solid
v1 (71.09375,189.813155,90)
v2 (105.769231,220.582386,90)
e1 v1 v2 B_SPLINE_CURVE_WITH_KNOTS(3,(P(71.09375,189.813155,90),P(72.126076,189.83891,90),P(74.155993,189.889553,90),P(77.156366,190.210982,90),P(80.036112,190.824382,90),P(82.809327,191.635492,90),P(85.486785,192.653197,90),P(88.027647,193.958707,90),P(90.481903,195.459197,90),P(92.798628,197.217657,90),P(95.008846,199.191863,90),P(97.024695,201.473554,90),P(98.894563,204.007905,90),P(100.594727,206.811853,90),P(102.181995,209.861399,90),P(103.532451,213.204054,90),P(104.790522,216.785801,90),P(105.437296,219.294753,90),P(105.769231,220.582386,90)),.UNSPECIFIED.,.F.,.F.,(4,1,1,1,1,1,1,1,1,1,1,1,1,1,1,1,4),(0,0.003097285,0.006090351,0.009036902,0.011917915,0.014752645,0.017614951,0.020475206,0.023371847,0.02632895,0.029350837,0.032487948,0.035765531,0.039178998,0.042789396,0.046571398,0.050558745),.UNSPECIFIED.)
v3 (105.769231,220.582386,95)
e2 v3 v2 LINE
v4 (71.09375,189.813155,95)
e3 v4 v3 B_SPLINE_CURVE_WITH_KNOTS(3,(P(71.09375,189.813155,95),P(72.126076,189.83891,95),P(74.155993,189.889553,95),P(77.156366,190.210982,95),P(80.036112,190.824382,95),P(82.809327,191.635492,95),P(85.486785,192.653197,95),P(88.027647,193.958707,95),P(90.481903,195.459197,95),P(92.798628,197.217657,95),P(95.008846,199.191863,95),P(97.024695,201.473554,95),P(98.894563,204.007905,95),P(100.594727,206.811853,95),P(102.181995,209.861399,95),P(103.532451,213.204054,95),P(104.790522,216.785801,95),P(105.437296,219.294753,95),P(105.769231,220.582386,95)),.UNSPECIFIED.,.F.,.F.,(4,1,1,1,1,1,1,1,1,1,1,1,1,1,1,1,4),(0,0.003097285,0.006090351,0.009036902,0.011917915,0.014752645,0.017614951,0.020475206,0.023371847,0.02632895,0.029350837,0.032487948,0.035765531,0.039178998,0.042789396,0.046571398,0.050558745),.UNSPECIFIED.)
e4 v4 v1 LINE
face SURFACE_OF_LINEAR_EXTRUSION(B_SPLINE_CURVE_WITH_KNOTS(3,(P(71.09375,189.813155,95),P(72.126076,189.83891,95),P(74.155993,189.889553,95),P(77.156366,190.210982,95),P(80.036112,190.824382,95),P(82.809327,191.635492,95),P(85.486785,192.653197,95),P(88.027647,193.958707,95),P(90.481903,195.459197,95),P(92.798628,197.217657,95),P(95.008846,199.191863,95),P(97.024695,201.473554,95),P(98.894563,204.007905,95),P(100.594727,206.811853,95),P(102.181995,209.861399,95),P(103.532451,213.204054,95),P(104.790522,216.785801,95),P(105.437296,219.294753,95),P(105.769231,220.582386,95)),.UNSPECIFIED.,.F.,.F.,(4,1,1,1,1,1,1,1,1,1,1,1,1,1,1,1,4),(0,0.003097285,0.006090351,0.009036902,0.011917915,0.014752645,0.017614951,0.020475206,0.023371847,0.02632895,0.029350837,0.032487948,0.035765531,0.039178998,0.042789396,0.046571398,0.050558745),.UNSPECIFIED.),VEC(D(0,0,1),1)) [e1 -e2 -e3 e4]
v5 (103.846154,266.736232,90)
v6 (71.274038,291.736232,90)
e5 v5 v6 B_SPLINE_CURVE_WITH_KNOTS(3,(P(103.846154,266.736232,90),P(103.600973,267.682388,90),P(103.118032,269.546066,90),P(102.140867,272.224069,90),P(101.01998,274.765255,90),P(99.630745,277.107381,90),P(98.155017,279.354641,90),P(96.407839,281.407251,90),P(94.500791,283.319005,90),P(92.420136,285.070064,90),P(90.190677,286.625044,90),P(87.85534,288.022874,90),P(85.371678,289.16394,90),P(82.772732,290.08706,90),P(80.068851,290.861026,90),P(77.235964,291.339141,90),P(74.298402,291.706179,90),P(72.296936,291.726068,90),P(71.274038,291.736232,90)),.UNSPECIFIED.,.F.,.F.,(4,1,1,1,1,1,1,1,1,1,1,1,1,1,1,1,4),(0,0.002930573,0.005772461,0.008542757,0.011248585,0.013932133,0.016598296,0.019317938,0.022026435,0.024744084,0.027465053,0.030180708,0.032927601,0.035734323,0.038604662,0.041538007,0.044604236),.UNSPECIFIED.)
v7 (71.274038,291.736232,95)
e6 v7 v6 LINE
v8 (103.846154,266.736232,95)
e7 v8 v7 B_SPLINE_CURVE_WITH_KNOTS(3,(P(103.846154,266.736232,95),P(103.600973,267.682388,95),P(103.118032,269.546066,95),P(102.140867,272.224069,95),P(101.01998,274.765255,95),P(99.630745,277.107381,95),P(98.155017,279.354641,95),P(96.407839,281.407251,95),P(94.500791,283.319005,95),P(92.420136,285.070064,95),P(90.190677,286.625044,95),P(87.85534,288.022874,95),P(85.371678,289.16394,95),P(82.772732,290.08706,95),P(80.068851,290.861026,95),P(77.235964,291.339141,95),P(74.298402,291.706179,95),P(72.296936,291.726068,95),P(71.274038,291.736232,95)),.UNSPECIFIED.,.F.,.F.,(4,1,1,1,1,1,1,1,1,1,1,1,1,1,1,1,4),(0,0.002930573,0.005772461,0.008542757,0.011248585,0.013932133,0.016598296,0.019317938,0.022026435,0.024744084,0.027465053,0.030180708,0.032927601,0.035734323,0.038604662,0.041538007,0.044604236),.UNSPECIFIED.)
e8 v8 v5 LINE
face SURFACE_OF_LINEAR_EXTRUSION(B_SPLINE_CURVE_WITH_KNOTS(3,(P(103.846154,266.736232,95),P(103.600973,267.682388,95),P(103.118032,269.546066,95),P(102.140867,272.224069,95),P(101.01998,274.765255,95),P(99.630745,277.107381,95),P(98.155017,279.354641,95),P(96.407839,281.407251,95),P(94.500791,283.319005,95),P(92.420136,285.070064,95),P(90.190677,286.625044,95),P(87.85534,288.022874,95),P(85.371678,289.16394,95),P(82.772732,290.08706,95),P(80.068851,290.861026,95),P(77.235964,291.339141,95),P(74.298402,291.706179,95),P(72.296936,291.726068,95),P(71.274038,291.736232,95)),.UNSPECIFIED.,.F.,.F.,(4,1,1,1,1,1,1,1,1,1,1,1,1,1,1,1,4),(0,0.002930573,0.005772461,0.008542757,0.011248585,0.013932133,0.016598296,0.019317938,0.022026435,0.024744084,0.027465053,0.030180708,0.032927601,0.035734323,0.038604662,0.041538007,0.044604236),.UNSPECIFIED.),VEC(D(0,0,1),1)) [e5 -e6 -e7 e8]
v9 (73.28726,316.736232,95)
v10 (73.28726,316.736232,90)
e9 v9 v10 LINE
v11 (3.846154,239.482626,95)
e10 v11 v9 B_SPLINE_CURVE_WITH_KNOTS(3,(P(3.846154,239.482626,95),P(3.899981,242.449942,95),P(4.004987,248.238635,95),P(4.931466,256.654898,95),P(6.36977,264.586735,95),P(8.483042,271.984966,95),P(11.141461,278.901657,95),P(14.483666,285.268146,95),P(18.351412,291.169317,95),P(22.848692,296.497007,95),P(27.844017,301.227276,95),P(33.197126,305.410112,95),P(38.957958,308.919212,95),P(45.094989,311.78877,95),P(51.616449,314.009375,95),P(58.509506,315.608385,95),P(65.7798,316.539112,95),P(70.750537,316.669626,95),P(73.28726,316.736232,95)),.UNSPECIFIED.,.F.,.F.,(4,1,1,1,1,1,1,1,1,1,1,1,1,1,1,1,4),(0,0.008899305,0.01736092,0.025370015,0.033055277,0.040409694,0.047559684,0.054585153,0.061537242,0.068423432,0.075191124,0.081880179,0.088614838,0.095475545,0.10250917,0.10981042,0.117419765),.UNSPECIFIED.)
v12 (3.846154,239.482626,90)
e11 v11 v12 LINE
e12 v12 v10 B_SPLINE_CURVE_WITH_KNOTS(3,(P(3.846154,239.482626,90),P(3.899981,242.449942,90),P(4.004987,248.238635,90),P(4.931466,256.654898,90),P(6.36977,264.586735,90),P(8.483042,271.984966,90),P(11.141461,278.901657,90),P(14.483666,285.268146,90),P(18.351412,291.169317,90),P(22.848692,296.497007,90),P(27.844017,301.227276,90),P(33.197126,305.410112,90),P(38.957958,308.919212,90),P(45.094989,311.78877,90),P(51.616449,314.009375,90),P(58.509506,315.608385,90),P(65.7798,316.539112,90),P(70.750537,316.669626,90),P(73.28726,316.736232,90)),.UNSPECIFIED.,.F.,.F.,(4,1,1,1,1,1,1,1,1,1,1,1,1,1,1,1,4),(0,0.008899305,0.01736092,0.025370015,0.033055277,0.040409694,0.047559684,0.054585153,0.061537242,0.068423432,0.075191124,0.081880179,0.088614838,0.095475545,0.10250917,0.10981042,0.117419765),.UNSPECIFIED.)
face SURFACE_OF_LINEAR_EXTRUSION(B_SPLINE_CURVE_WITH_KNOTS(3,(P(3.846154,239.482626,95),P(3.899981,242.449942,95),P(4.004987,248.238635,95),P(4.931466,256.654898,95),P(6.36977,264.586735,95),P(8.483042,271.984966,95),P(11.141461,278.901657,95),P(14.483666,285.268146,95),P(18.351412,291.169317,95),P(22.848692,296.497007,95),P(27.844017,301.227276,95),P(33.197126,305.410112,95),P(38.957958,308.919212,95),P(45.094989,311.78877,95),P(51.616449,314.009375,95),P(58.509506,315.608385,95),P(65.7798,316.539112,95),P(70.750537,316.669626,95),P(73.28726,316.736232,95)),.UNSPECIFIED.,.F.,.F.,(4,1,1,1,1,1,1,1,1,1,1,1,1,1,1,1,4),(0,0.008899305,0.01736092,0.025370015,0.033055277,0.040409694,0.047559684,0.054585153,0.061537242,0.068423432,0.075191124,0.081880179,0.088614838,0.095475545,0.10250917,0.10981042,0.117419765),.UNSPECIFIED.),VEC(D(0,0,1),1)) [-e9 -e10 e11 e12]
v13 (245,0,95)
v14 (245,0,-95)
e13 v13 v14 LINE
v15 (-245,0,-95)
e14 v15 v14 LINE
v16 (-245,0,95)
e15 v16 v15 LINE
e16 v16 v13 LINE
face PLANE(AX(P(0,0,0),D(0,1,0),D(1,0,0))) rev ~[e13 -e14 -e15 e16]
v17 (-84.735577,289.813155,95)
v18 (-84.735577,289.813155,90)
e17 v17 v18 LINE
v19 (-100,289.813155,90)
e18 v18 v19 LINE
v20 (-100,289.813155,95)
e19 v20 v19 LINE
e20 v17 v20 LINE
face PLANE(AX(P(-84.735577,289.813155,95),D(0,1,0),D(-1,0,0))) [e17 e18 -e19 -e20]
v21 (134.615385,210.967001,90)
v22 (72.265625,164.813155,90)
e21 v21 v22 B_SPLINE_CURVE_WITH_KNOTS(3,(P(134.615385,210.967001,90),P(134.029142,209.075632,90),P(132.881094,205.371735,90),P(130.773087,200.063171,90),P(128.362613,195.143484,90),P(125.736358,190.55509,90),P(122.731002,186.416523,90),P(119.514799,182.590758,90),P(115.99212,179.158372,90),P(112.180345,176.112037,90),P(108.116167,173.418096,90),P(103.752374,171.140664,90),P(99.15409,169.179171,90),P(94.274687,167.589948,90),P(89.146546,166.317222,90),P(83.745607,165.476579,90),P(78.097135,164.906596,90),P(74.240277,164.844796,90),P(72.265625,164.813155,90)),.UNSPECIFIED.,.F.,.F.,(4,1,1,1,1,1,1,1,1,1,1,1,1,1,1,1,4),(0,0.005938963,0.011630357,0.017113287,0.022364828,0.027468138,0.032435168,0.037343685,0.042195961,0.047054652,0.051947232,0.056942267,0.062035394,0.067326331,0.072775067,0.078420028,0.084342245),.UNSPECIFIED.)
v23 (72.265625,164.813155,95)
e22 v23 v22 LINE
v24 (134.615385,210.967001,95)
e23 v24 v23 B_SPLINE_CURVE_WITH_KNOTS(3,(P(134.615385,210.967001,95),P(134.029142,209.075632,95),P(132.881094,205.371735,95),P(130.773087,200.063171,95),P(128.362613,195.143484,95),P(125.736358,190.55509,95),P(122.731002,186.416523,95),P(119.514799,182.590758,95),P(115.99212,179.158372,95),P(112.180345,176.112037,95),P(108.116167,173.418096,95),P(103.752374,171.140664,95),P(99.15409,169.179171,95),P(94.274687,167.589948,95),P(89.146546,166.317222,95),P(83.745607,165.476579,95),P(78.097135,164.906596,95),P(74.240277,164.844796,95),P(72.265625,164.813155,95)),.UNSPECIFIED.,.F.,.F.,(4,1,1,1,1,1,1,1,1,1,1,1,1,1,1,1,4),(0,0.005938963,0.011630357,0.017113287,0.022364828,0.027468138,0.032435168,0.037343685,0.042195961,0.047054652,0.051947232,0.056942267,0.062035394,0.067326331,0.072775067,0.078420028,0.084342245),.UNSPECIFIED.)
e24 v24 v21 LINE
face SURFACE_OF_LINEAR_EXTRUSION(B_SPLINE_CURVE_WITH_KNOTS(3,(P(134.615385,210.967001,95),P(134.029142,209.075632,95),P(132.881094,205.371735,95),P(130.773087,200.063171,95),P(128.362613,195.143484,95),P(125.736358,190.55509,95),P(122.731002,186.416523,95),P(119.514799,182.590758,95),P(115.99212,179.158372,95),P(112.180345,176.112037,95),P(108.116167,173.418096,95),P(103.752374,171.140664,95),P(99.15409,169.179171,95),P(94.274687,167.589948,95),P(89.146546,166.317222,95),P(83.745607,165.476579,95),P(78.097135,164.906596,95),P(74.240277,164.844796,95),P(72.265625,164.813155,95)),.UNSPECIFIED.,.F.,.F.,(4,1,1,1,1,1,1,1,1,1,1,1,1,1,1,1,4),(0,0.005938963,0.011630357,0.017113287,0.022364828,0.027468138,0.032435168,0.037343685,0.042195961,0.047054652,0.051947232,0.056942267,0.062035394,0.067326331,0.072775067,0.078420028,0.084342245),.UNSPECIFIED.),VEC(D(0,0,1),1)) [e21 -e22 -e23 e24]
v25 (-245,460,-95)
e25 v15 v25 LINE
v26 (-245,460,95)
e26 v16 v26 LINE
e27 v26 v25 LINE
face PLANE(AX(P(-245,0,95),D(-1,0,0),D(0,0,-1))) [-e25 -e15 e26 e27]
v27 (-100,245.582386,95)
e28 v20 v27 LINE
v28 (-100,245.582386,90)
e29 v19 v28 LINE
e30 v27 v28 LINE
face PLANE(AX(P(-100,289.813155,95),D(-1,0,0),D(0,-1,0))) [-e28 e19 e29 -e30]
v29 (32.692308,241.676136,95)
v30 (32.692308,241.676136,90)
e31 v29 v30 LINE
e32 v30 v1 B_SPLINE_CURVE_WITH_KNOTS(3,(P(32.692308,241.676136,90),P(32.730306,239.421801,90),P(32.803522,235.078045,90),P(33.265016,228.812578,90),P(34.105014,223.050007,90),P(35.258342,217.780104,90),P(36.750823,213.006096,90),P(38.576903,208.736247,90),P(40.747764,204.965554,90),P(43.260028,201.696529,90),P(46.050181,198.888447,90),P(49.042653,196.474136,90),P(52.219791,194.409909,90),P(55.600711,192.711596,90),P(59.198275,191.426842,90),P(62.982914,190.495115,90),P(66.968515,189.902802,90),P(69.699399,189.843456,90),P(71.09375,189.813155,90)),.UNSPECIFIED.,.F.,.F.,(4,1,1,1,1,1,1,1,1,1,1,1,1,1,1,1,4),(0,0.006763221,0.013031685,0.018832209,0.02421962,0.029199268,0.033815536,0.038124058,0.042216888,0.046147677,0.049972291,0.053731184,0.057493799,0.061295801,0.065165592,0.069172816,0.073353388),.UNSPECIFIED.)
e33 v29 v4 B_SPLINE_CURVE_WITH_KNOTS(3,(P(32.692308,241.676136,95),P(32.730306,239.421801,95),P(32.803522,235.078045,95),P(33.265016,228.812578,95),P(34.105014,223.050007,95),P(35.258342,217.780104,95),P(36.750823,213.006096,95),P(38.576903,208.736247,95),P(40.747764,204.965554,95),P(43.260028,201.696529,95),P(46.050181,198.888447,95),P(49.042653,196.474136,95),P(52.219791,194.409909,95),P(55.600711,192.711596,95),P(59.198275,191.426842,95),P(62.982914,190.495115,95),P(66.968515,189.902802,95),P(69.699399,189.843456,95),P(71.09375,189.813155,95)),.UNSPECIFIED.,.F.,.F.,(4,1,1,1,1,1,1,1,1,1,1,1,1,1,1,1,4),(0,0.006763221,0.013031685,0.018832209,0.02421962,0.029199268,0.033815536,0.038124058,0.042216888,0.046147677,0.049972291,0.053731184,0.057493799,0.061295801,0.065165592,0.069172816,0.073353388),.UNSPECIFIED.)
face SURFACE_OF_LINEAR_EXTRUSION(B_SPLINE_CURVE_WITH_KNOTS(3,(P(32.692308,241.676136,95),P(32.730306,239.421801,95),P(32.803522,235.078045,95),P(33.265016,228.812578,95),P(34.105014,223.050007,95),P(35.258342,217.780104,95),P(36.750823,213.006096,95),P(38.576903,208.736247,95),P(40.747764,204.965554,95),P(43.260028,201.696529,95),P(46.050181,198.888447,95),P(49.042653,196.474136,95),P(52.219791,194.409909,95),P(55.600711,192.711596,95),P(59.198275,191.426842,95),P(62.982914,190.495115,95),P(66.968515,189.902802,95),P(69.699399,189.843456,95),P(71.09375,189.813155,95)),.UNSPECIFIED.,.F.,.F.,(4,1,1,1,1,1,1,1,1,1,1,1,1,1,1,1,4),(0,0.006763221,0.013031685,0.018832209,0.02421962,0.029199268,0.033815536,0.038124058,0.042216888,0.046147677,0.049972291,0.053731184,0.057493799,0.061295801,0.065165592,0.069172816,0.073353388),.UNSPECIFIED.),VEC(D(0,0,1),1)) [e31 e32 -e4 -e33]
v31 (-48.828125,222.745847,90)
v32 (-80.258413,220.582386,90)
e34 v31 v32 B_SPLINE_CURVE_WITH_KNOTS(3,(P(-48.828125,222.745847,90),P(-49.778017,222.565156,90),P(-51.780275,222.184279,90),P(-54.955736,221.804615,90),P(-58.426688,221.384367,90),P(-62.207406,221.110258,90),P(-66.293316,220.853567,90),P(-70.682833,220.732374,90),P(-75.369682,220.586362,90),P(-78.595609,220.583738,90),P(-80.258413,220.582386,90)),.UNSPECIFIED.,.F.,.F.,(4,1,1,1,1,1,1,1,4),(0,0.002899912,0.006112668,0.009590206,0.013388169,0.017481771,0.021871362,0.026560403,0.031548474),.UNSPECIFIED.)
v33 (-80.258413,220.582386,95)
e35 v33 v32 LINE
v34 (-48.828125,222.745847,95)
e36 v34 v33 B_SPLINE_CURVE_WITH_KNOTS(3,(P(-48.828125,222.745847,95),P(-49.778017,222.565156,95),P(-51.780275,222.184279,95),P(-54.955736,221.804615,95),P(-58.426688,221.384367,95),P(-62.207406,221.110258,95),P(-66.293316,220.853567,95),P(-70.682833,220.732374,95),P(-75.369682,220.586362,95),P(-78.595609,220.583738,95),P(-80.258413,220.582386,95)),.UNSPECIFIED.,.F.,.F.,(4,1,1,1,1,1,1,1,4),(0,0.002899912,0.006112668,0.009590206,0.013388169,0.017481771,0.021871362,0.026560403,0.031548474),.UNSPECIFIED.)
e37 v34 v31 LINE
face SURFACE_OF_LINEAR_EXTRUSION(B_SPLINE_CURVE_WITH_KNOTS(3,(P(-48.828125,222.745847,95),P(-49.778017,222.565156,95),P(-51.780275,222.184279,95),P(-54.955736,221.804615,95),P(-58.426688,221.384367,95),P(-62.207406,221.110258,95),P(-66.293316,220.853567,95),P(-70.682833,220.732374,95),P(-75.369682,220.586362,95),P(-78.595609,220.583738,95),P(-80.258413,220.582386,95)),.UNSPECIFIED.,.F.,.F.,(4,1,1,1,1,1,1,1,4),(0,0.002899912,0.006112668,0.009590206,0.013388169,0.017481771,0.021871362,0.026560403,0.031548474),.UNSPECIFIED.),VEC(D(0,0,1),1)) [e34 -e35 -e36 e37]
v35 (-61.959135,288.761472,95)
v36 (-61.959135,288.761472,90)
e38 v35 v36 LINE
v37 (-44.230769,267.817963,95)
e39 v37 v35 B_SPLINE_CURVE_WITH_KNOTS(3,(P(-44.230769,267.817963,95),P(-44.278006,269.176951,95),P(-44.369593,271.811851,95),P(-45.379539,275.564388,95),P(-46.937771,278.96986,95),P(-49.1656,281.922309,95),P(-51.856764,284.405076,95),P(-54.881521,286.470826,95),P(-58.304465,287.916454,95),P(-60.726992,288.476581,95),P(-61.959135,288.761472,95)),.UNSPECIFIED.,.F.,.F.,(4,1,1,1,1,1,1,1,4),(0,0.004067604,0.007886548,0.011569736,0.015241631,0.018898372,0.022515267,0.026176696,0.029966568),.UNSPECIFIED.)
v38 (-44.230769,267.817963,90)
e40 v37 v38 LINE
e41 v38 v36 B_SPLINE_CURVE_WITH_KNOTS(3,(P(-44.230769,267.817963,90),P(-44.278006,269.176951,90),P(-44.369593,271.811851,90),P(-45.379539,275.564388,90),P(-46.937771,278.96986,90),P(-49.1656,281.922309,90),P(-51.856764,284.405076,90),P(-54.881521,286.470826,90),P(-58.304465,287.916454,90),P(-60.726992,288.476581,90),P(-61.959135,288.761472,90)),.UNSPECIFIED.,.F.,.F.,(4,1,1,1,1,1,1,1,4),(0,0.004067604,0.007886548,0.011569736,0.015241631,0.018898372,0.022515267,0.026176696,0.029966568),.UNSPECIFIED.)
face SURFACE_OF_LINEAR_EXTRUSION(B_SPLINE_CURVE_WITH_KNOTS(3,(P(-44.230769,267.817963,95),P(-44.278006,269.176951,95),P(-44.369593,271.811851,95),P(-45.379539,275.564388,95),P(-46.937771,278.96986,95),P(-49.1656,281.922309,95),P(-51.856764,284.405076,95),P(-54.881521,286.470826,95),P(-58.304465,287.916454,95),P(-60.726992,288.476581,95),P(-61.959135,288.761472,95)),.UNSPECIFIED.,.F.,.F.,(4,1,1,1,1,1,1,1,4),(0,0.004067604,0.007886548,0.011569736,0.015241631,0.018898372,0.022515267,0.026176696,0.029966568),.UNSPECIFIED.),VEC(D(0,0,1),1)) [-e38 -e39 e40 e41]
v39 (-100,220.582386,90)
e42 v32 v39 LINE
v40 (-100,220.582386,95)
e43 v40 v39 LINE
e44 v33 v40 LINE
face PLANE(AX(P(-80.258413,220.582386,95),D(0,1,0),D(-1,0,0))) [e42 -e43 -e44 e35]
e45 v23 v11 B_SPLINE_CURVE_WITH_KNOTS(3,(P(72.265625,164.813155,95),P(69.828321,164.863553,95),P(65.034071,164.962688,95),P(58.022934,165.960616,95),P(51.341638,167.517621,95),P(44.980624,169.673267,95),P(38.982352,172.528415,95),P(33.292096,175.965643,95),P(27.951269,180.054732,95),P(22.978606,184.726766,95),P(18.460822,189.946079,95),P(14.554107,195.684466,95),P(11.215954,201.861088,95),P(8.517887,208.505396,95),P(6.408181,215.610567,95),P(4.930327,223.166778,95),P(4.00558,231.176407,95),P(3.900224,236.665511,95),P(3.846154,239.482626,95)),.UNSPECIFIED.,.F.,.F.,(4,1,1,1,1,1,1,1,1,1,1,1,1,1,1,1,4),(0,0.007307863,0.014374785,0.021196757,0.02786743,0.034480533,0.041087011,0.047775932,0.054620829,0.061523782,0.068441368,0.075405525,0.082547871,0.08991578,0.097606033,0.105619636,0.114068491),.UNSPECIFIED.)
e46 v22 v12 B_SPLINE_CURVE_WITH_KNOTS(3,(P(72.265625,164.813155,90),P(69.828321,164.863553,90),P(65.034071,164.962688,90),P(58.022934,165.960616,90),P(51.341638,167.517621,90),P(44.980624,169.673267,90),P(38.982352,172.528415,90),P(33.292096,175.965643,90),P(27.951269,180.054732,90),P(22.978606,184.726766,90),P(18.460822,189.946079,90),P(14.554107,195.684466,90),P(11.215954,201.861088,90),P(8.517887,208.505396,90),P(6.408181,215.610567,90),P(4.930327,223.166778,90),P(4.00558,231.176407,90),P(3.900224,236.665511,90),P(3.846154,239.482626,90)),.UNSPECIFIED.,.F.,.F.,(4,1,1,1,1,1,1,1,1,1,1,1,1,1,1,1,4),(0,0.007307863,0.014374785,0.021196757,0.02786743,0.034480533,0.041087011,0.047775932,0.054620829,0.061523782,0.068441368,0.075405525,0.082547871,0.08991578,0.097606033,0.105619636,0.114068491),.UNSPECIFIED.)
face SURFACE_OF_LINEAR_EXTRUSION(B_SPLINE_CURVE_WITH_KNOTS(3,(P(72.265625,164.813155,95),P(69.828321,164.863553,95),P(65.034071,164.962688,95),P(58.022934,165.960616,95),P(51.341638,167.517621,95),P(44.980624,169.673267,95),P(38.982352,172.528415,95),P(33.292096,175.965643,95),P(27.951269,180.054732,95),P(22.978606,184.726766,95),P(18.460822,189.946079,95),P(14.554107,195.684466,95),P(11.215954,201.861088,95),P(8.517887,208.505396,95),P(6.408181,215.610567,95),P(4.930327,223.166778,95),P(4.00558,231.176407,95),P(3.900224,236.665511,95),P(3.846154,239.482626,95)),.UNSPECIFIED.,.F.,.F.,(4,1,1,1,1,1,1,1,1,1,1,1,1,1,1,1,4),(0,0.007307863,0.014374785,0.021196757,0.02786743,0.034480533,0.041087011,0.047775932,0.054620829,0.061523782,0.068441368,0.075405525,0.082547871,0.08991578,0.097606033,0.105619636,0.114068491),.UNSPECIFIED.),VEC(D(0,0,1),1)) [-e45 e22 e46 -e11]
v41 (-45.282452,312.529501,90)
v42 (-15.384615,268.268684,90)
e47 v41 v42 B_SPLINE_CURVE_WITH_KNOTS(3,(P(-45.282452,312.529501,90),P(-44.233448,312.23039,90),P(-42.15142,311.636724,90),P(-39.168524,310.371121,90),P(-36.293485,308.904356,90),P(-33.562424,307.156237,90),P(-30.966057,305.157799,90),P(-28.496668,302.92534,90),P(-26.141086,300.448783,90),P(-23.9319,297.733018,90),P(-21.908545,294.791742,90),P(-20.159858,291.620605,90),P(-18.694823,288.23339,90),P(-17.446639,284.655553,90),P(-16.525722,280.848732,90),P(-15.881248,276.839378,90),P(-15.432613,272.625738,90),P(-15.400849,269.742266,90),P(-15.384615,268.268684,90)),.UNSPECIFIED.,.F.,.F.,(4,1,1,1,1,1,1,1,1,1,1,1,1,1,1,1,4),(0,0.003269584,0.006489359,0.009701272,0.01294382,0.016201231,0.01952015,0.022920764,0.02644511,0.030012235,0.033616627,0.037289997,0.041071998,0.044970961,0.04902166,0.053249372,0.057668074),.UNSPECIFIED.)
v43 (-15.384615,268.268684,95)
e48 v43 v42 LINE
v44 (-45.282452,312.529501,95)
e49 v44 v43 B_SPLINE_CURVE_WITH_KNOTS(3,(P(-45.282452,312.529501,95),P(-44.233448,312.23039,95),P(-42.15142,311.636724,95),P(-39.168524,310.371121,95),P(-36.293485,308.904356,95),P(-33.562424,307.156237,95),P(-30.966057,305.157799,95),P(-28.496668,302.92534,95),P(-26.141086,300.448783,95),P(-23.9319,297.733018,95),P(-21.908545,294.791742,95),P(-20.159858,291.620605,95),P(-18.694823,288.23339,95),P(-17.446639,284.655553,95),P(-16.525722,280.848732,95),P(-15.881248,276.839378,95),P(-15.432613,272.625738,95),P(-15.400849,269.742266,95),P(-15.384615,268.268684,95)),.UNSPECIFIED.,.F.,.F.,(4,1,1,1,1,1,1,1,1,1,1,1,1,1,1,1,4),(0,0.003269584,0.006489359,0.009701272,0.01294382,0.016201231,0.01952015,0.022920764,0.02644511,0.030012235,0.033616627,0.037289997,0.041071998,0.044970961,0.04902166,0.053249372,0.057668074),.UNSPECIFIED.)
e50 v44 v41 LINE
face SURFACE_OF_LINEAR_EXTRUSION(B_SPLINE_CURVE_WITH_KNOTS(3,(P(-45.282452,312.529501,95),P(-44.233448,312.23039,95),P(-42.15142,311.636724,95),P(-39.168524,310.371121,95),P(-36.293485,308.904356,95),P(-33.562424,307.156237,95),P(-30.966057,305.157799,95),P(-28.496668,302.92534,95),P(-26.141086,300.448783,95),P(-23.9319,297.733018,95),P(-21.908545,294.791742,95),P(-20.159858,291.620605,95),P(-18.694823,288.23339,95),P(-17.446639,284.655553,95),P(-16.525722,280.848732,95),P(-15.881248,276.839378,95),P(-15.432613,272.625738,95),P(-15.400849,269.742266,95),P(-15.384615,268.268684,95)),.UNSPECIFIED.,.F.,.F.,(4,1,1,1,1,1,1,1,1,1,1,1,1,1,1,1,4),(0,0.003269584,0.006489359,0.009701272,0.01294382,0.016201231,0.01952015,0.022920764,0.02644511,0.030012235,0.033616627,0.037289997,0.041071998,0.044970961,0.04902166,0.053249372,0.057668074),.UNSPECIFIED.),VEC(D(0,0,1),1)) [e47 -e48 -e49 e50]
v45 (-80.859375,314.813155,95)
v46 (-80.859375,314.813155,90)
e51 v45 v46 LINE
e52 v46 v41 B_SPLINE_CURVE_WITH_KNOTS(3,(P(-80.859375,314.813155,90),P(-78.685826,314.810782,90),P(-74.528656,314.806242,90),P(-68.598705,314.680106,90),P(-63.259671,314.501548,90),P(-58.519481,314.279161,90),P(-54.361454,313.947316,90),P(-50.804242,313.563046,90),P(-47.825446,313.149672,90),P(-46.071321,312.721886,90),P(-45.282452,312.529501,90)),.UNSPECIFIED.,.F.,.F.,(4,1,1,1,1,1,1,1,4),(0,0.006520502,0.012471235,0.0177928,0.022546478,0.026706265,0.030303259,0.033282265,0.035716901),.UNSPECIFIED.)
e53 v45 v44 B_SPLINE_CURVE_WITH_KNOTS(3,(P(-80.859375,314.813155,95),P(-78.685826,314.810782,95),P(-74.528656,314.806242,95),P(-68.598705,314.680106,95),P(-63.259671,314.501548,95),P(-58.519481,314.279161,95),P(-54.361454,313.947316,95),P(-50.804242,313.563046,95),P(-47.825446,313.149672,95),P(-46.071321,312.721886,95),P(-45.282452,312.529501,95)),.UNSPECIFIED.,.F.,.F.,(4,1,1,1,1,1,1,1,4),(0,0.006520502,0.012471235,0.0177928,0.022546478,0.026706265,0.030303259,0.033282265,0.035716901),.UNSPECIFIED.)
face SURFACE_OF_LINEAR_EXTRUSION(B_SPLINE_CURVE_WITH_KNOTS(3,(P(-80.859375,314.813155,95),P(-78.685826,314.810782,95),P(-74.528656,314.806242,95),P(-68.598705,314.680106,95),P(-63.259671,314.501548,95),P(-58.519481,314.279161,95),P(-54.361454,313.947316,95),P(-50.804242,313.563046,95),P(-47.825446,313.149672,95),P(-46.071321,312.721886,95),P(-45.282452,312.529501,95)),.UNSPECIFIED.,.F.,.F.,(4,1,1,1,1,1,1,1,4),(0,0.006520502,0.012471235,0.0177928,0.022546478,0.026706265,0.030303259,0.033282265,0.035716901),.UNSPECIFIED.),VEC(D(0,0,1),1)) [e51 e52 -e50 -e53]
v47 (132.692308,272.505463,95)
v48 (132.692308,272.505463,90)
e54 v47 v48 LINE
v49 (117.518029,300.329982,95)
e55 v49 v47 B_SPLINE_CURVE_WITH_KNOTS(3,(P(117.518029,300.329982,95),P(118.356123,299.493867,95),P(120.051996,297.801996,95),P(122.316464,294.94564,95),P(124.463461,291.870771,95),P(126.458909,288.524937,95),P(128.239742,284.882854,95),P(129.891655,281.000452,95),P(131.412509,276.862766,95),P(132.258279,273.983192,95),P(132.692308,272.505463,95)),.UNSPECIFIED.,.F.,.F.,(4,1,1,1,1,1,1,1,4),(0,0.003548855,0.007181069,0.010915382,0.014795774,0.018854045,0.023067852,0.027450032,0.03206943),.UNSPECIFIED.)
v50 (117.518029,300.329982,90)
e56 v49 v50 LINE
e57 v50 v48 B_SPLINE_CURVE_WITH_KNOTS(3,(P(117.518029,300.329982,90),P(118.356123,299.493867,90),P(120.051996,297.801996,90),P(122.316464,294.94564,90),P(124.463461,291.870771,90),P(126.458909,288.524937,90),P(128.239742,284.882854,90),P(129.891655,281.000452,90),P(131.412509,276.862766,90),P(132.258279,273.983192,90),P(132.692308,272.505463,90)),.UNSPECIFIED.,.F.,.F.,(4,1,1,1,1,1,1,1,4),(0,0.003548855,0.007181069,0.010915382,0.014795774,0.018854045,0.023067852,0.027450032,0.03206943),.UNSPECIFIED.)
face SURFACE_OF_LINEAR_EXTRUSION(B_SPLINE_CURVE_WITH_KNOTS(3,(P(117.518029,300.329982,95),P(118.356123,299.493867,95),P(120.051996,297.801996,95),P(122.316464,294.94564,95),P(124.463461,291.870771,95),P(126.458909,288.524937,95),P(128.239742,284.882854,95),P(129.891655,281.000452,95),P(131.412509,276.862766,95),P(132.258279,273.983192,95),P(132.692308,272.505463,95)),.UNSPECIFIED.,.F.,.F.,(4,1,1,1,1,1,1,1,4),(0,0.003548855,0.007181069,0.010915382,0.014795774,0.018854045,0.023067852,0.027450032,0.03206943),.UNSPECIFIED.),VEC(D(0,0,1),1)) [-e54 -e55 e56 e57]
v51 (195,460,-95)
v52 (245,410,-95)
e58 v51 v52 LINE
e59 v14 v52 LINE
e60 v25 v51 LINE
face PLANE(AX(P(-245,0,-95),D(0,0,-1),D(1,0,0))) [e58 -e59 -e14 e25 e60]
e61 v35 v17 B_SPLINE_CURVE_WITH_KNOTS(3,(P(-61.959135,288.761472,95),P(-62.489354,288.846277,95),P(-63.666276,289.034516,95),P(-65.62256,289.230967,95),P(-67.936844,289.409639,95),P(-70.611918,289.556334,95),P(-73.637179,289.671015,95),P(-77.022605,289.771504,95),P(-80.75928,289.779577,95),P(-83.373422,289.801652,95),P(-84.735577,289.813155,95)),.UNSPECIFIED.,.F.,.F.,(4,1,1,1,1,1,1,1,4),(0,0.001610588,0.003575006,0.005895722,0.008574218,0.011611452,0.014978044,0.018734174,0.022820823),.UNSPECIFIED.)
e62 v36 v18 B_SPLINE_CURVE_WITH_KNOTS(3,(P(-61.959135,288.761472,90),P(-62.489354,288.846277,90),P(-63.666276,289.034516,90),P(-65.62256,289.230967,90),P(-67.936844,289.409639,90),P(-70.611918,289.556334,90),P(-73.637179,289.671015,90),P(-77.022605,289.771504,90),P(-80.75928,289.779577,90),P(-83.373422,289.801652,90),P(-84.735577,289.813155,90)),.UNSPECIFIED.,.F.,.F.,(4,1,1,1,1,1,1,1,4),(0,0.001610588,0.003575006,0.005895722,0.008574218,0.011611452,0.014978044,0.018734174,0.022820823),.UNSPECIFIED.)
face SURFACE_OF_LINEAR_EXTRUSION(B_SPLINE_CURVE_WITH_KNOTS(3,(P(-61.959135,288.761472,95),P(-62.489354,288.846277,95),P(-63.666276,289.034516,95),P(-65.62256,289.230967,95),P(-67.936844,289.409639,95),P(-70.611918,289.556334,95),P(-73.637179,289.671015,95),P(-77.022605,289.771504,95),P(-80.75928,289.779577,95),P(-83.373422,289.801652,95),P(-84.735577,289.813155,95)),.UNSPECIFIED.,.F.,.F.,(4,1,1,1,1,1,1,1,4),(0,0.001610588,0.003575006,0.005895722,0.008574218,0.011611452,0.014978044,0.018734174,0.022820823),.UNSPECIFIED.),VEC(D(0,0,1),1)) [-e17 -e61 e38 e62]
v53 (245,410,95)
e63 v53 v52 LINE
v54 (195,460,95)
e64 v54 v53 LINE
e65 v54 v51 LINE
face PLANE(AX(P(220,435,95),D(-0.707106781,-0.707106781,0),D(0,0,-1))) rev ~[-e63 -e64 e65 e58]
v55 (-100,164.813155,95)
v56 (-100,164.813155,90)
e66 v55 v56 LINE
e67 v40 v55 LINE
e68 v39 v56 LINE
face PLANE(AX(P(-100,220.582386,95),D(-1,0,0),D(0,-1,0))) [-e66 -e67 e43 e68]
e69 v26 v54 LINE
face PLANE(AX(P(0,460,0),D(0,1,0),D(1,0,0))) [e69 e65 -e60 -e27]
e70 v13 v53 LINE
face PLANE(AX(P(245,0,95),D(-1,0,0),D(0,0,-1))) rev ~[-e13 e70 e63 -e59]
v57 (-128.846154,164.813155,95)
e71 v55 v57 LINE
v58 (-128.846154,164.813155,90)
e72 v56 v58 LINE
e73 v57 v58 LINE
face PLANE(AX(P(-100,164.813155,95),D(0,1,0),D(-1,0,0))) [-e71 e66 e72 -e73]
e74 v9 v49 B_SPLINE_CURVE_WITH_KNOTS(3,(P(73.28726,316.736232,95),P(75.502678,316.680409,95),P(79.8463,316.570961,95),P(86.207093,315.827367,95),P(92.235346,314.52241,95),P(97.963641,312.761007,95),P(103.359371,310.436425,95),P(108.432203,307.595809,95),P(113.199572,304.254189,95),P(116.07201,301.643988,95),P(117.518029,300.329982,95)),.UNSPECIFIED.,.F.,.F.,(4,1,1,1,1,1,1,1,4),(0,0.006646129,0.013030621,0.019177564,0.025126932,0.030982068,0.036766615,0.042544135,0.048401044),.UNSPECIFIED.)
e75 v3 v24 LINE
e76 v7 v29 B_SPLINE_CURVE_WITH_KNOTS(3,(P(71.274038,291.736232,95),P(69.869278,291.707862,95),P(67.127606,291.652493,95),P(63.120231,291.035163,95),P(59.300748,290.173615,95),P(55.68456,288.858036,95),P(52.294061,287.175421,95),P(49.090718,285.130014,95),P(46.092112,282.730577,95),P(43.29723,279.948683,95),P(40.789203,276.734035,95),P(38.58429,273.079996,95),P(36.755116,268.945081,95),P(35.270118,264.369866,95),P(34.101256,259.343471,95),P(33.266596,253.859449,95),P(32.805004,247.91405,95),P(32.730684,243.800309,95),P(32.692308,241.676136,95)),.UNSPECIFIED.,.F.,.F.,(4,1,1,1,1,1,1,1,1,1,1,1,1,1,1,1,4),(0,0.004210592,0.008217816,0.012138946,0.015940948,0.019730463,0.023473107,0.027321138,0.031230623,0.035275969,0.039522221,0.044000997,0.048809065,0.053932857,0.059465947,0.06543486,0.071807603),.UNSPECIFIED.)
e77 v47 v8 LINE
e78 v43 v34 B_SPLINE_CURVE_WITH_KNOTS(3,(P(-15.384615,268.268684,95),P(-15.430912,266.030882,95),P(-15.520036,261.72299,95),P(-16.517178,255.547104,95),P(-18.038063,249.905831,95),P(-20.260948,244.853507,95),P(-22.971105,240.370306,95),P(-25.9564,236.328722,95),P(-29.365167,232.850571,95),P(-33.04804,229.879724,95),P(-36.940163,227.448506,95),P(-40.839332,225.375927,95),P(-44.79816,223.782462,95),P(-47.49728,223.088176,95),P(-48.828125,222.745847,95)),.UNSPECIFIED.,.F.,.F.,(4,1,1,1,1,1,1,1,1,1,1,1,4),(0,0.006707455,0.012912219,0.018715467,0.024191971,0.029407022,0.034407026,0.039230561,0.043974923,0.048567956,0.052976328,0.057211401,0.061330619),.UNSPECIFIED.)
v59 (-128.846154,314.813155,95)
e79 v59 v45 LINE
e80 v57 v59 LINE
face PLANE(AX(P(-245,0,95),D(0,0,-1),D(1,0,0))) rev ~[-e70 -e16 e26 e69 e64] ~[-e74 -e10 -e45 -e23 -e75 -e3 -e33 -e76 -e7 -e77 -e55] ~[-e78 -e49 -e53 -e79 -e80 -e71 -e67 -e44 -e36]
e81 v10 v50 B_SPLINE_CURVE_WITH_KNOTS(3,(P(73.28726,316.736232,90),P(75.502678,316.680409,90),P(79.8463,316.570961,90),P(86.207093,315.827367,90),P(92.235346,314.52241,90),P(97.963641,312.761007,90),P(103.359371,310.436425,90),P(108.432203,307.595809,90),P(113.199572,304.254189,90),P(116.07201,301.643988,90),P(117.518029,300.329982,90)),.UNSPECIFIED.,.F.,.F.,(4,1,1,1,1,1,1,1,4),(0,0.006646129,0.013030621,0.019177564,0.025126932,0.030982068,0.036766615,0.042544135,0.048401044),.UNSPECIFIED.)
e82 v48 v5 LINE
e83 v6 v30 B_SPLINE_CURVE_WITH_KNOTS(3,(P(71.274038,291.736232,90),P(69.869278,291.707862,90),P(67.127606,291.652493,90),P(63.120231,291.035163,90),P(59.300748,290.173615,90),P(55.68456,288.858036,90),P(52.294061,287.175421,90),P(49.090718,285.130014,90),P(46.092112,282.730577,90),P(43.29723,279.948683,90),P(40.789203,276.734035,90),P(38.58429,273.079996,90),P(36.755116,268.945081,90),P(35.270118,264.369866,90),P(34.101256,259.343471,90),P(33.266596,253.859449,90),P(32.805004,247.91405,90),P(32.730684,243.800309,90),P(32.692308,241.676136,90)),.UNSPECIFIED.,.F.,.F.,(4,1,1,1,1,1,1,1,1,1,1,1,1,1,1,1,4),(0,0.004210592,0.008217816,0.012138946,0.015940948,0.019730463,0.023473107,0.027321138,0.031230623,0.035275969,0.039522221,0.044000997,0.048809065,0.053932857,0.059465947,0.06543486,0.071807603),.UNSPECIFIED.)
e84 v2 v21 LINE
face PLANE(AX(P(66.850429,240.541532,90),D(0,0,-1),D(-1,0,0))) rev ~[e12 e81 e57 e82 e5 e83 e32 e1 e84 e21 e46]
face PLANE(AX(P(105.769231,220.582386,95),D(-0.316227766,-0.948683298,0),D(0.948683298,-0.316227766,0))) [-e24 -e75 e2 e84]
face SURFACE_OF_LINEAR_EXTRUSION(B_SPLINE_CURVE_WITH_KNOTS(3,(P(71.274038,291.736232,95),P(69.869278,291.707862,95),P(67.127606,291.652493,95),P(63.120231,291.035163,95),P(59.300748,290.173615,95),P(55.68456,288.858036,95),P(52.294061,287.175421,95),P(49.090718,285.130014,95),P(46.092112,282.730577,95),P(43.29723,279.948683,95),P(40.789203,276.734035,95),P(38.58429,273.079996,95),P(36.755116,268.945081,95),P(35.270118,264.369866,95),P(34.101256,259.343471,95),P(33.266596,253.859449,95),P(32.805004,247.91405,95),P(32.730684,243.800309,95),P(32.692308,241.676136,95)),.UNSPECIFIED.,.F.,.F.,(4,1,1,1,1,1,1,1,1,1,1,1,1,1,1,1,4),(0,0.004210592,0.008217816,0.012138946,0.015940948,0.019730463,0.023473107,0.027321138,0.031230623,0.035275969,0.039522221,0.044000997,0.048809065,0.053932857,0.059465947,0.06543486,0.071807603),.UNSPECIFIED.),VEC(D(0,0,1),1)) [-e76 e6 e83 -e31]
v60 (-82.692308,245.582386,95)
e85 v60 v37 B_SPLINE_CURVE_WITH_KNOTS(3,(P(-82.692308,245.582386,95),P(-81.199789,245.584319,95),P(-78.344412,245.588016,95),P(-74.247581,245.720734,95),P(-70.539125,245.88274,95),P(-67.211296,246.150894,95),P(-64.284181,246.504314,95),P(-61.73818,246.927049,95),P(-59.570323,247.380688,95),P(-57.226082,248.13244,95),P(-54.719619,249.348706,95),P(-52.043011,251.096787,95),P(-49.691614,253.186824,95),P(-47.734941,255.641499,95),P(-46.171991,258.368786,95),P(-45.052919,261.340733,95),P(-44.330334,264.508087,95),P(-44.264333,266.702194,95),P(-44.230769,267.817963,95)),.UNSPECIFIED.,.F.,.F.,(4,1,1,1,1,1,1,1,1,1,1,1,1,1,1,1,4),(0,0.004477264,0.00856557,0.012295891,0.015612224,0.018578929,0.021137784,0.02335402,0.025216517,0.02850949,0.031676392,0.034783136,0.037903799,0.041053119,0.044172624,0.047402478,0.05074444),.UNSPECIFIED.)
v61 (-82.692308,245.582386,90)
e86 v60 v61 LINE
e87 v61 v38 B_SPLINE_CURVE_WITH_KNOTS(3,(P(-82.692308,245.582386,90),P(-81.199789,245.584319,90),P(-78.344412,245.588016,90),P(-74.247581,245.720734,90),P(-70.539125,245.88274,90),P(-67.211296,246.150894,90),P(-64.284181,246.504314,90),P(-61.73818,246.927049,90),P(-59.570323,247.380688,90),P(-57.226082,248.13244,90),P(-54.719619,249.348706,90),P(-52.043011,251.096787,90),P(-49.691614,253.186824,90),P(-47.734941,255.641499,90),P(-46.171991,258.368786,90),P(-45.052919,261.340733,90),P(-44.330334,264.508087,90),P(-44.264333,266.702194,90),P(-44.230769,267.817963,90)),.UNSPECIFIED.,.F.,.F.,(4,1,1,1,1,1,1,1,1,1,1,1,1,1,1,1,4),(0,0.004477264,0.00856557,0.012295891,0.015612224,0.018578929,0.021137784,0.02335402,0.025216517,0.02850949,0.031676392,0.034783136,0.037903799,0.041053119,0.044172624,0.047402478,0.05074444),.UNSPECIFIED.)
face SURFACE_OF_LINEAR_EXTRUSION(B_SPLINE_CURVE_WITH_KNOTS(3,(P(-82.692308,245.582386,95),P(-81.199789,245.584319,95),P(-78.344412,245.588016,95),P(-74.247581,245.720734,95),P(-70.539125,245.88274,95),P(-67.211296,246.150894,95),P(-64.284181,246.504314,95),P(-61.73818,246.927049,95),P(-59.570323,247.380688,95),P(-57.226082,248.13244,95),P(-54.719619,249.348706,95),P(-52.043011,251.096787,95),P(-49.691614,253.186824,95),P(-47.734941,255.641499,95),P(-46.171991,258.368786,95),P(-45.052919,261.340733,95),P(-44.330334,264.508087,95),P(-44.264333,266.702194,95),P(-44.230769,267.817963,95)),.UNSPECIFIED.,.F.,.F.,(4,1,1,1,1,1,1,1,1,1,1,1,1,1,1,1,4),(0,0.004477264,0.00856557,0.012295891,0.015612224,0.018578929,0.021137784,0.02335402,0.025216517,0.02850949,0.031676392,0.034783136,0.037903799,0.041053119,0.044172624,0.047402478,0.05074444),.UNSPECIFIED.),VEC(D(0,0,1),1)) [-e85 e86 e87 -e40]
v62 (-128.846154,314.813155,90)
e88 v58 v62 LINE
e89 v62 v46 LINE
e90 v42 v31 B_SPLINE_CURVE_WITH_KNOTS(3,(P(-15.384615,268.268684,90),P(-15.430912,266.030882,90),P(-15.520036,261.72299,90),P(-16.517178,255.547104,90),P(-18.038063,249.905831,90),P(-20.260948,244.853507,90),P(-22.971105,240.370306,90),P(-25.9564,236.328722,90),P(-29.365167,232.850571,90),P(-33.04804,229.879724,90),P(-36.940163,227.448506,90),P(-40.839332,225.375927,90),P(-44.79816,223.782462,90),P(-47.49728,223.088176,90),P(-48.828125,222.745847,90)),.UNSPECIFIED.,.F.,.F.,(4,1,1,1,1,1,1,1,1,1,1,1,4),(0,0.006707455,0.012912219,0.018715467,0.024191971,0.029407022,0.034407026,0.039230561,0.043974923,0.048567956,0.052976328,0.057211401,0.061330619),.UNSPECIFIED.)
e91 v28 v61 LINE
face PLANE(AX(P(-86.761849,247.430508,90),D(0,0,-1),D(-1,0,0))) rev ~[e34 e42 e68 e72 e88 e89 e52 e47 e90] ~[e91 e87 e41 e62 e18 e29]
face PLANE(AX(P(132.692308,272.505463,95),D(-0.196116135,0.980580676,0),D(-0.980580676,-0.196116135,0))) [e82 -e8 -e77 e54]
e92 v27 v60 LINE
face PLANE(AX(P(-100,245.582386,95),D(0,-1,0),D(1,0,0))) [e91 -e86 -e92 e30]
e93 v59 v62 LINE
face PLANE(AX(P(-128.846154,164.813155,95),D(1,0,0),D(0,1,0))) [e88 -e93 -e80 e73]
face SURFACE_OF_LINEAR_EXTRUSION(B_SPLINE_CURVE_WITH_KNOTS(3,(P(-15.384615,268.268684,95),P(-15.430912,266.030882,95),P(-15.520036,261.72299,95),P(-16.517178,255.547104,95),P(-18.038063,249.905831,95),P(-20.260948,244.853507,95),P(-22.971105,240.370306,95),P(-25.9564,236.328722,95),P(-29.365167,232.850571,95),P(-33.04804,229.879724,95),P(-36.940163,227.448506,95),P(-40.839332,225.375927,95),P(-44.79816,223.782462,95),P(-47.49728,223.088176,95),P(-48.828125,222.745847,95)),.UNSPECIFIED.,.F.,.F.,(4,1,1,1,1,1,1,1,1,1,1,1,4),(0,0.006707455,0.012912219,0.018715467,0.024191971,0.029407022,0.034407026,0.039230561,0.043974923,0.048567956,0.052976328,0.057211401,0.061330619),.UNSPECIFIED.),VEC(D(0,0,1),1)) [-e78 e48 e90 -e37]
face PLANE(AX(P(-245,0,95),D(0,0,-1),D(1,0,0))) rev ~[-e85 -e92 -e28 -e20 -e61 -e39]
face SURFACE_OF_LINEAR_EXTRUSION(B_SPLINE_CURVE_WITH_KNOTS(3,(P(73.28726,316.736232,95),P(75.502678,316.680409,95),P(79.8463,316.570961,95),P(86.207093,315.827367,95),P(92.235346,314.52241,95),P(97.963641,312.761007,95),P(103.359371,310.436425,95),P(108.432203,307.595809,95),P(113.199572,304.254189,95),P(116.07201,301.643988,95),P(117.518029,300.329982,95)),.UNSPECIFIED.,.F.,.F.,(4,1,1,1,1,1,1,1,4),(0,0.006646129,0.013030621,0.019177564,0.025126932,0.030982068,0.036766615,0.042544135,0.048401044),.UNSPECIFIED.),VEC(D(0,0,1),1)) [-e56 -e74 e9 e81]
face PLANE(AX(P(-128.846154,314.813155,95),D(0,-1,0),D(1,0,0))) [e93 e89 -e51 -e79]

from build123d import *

# Parameters (mm, degrees)
SKETCH1_W           = 490
SKETCH1_H           = 190
BOSS_EXTRUDE1_DEPTH = 460
CUT_EXTRUDE1_DEPTH  = 5
CHAMFER1_SIZE       = 50


with BuildPart() as part:
    # Sketch1 → Boss-Extrude1 (new body)
    with BuildSketch(Plane(origin=(0, 0, 0), x_dir=(1, 0, 0), z_dir=(0, 1, 0))):
        Rectangle(SKETCH1_W, SKETCH1_H)
    extrude(amount=BOSS_EXTRUDE1_DEPTH)

    # Sketch2 → Cut-Extrude1 (cut)
    with BuildSketch(Plane.XY.offset(95)):
        with BuildLine():
            Line((-128.846153846, 164.813155142), (-128.846153846, 314.813155142))
            Line((-128.846153846, 314.813155142), (-80.859375, 314.813155142))
            add(Edge.make_bspline(
                [(-80.859375, 314.813155142), (-78.68582639, 314.810781524), (-74.52865628, 314.806241698), (-68.598704577, 314.680106304), (-63.259671472, 314.501547755), (-58.519480947, 314.279160637), (-54.361453517, 313.947316346), (-50.804241624, 313.563045651), (-47.825445739, 313.149672355), (-46.071321085, 312.721886279), (-45.282451923, 312.529501296)],
                knots=[0, 0, 0, 0, 0.006520502, 0.012471235, 0.0177928, 0.022546478, 0.026706265, 0.030303259, 0.033282265, 0.035716901, 0.035716901, 0.035716901, 0.035716901], degree=3))
            add(Edge.make_bspline(
                [(-45.282451923, 312.529501296), (-44.233447773, 312.230389788), (-42.1514203, 311.636723522), (-39.168524185, 310.371121346), (-36.293484672, 308.904355941), (-33.562423553, 307.156236707), (-30.966057094, 305.157798929), (-28.496667704, 302.925340129), (-26.141086485, 300.448782521), (-23.931899874, 297.733018398), (-21.908544821, 294.791742051), (-20.159857683, 291.620604869), (-18.694823491, 288.233390243), (-17.446638708, 284.655552667), (-16.525722022, 280.848731923), (-15.881247769, 276.839378235), (-15.432613274, 272.625737997), (-15.400848564, 269.742266274), (-15.384615385, 268.268683988)],
                knots=[0, 0, 0, 0, 0.003269584, 0.006489359, 0.009701272, 0.01294382, 0.016201231, 0.01952015, 0.022920764, 0.02644511, 0.030012235, 0.033616627, 0.037289997, 0.041071998, 0.044970961, 0.04902166, 0.053249372, 0.057668074, 0.057668074, 0.057668074, 0.057668074], degree=3))
            add(Edge.make_bspline(
                [(-15.384615385, 268.268683988), (-15.430912329, 266.030881754), (-15.520036489, 261.722989578), (-16.5171777, 255.54710401), (-18.038063347, 249.905830673), (-20.26094761, 244.85350674), (-22.971105302, 240.370306043), (-25.956399797, 236.328721789), (-29.365167403, 232.85057143), (-33.048040103, 229.879723989), (-36.940163439, 227.4485057), (-40.839332316, 225.375926626), (-44.798160315, 223.782461611), (-47.49728043, 223.088176089), (-48.828125, 222.74584745)],
                knots=[0, 0, 0, 0, 0.006707455, 0.012912219, 0.018715467, 0.024191971, 0.029407022, 0.034407026, 0.039230561, 0.043974923, 0.048567956, 0.052976328, 0.057211401, 0.061330619, 0.061330619, 0.061330619, 0.061330619], degree=3))
            add(Edge.make_bspline(
                [(-48.828125, 222.74584745), (-49.778016584, 222.565155747), (-51.780274709, 222.184279197), (-54.955736315, 221.804614598), (-58.426687949, 221.38436728), (-62.207405868, 221.110258367), (-66.29331639, 220.853566863), (-70.68283294, 220.73237433), (-75.36968243, 220.586361937), (-78.595608541, 220.583738277), (-80.258413462, 220.582385911)],
                knots=[0, 0, 0, 0, 0.002899912, 0.006112668, 0.009590206, 0.013388169, 0.017481771, 0.021871362, 0.026560403, 0.031548474, 0.031548474, 0.031548474, 0.031548474], degree=3))
            Line((-80.258413462, 220.582385911), (-100, 220.582385911))
            Line((-100, 220.582385911), (-100, 164.813155142))
            Line((-100, 164.813155142), (-128.846153846, 164.813155142))
        make_face()
        with BuildLine():
            Line((-100, 289.813155142), (-100, 245.582385911))
            Line((-100, 245.582385911), (-82.692307692, 245.582385911))
            add(Edge.make_bspline(
                [(-82.692307692, 245.582385911), (-81.199788789, 245.584318597), (-78.344412345, 245.588016069), (-74.247580544, 245.720733608), (-70.539124515, 245.882739977), (-67.211295568, 246.150893666), (-64.28418136, 246.504313816), (-61.738179725, 246.927048829), (-59.570323356, 247.380687664), (-57.226081821, 248.132439909), (-54.719618929, 249.34870649), (-52.043011123, 251.096787063), (-49.691614325, 253.186823554), (-47.734940523, 255.641499036), (-46.171991363, 258.368785716), (-45.052918625, 261.340733459), (-44.330334411, 264.508086695), (-44.26433293, 266.702194384), (-44.230769231, 267.817962834)],
                knots=[0, 0, 0, 0, 0.004477264, 0.00856557, 0.012295891, 0.015612224, 0.018578929, 0.021137784, 0.02335402, 0.025216517, 0.02850949, 0.031676392, 0.034783136, 0.037903799, 0.041053119, 0.044172624, 0.047402478, 0.05074444, 0.05074444, 0.05074444, 0.05074444], degree=3))
            add(Edge.make_bspline(
                [(-44.230769231, 267.817962834), (-44.278006455, 269.176951385), (-44.369593205, 271.811850999), (-45.379539397, 275.564387794), (-46.937770963, 278.969860429), (-49.16559971, 281.922309278), (-51.856764402, 284.405075963), (-54.881521201, 286.470826116), (-58.304465157, 287.916453798), (-60.726992003, 288.476581161), (-61.959134615, 288.76147245)],
                knots=[0, 0, 0, 0, 0.004067604, 0.007886548, 0.011569736, 0.015241631, 0.018898372, 0.022515267, 0.026176696, 0.029966568, 0.029966568, 0.029966568, 0.029966568], degree=3))
            add(Edge.make_bspline(
                [(-61.959134615, 288.76147245), (-62.489353732, 288.846276674), (-63.666275778, 289.03451576), (-65.622559738, 289.230966655), (-67.936843968, 289.409638547), (-70.611918115, 289.556333509), (-73.637178853, 289.671015001), (-77.022604854, 289.771504272), (-80.759279952, 289.779577251), (-83.373421904, 289.801652406), (-84.735576923, 289.813155142)],
                knots=[0, 0, 0, 0, 0.001610588, 0.003575006, 0.005895722, 0.008574218, 0.011611452, 0.014978044, 0.018734174, 0.022820823, 0.022820823, 0.022820823, 0.022820823], degree=3))
            Line((-84.735576923, 289.813155142), (-100, 289.813155142))
        make_face(mode=Mode.SUBTRACT)
        with BuildLine():
            Line((105.769230769, 220.582385911), (134.615384615, 210.967001296))
            add(Edge.make_bspline(
                [(134.615384615, 210.967001296), (134.029141984, 209.075631653), (132.881094494, 205.371734914), (130.773086835, 200.063171409), (128.362612777, 195.143483588), (125.736358285, 190.555089772), (122.731001789, 186.416523041), (119.514799096, 182.590757925), (115.992119669, 179.158372336), (112.18034538, 176.11203688), (108.116166692, 173.418096149), (103.752373829, 171.140664307), (99.15409023, 169.179171274), (94.2746867, 167.58994837), (89.146546246, 166.31722205), (83.745607291, 165.476579401), (78.097134874, 164.906595914), (74.24027675, 164.84479583), (72.265625, 164.813155142)],
                knots=[0, 0, 0, 0, 0.005938963, 0.011630357, 0.017113287, 0.022364828, 0.027468138, 0.032435168, 0.037343685, 0.042195961, 0.047054652, 0.051947232, 0.056942267, 0.062035394, 0.067326331, 0.072775067, 0.078420028, 0.084342245, 0.084342245, 0.084342245, 0.084342245], degree=3))
            add(Edge.make_bspline(
                [(72.265625, 164.813155142), (69.828320913, 164.863553304), (65.034070892, 164.962687995), (58.022934328, 165.96061555), (51.341638203, 167.517620504), (44.980624497, 169.673266776), (38.982352083, 172.52841479), (33.29209629, 175.965642858), (27.95126874, 180.054732283), (22.978605948, 184.72676615), (18.460821572, 189.946078551), (14.554106834, 195.684465819), (11.215954183, 201.861087994), (8.517887096, 208.505395954), (6.408180701, 215.610567139), (4.930326995, 223.166777517), (4.005580121, 231.1764073), (3.900224439, 236.665511085), (3.846153846, 239.482626296)],
                knots=[0, 0, 0, 0, 0.007307863, 0.014374785, 0.021196757, 0.02786743, 0.034480533, 0.041087011, 0.047775932, 0.054620829, 0.061523782, 0.068441368, 0.075405525, 0.082547871, 0.08991578, 0.097606033, 0.105619636, 0.114068491, 0.114068491, 0.114068491, 0.114068491], degree=3))
            add(Edge.make_bspline(
                [(3.846153846, 239.482626296), (3.899980719, 242.44994243), (4.004987128, 248.238634787), (4.931466399, 256.654897887), (6.369770291, 264.586735222), (8.483042384, 271.984966239), (11.141460959, 278.901657134), (14.483666479, 285.268146449), (18.351411861, 291.169316884), (22.848692346, 296.497007238), (27.844017445, 301.227275851), (33.197126129, 305.41011212), (38.957958096, 308.919211853), (45.094988778, 311.788769997), (51.61644901, 314.009375314), (58.509506337, 315.608385438), (65.7798005, 316.539112152), (70.750536696, 316.669626494), (73.287259615, 316.736232065)],
                knots=[0, 0, 0, 0, 0.008899305, 0.01736092, 0.025370015, 0.033055277, 0.040409694, 0.047559684, 0.054585153, 0.061537242, 0.068423432, 0.075191124, 0.081880179, 0.088614838, 0.095475545, 0.10250917, 0.10981042, 0.117419765, 0.117419765, 0.117419765, 0.117419765], degree=3))
            add(Edge.make_bspline(
                [(73.287259615, 316.736232065), (75.502677767, 316.680409273), (79.846299878, 316.57096126), (86.207093386, 315.827367435), (92.235345549, 314.522409911), (97.96364103, 312.761007439), (103.359371222, 310.436424746), (108.432202552, 307.59580863), (113.19957157, 304.254188874), (116.072009551, 301.643988063), (117.518028846, 300.329982065)],
                knots=[0, 0, 0, 0, 0.006646129, 0.013030621, 0.019177564, 0.025126932, 0.030982068, 0.036766615, 0.042544135, 0.048401044, 0.048401044, 0.048401044, 0.048401044], degree=3))
            add(Edge.make_bspline(
                [(117.518028846, 300.329982065), (118.356122646, 299.493866704), (120.05199646, 297.801996242), (122.316463998, 294.945639513), (124.463460545, 291.870771008), (126.458908982, 288.524937396), (128.239741929, 284.882854201), (129.8916547, 281.000452219), (131.412508813, 276.86276611), (132.25827859, 273.983192235), (132.692307692, 272.505462834)],
                knots=[0, 0, 0, 0, 0.003548855, 0.007181069, 0.010915382, 0.014795774, 0.018854045, 0.023067852, 0.027450032, 0.03206943, 0.03206943, 0.03206943, 0.03206943], degree=3))
            Line((132.692307692, 272.505462834), (103.846153846, 266.736232065))
            add(Edge.make_bspline(
                [(103.846153846, 266.736232065), (103.600973397, 267.682387584), (103.118032237, 269.54606572), (102.140866518, 272.224068854), (101.019980393, 274.765254654), (99.630744694, 277.107380608), (98.155017147, 279.354641299), (96.407838995, 281.407251388), (94.5007912, 283.319005273), (92.420135671, 285.070063602), (90.190676804, 286.62504353), (87.855339597, 288.022873638), (85.371678335, 289.163939789), (82.772731821, 290.087059632), (80.068851446, 290.861026069), (77.235964389, 291.339141204), (74.29840182, 291.706179115), (72.29693637, 291.726067579), (71.274038462, 291.736232065)],
                knots=[0, 0, 0, 0, 0.002930573, 0.005772461, 0.008542757, 0.011248585, 0.013932133, 0.016598296, 0.019317938, 0.022026435, 0.024744084, 0.027465053, 0.030180708, 0.032927601, 0.035734323, 0.038604662, 0.041538007, 0.044604236, 0.044604236, 0.044604236, 0.044604236], degree=3))
            add(Edge.make_bspline(
                [(71.274038462, 291.736232065), (69.86927788, 291.707862303), (67.127605565, 291.652493018), (63.120231411, 291.03516297), (59.300748387, 290.17361501), (55.684560232, 288.858035731), (52.294061085, 287.175420708), (49.090717698, 285.130014002), (46.092111739, 282.730576574), (43.297229728, 279.948683004), (40.789203011, 276.734035281), (38.584289533, 273.079996309), (36.755116153, 268.945080948), (35.27011826, 264.369865693), (34.101255741, 259.34347067), (33.266595883, 253.85944922), (32.80500389, 247.914049762), (32.7306837, 243.800308997), (32.692307692, 241.676135911)],
                knots=[0, 0, 0, 0, 0.004210592, 0.008217816, 0.012138946, 0.015940948, 0.019730463, 0.023473107, 0.027321138, 0.031230623, 0.035275969, 0.039522221, 0.044000997, 0.048809065, 0.053932857, 0.059465947, 0.06543486, 0.071807603, 0.071807603, 0.071807603, 0.071807603], degree=3))
            add(Edge.make_bspline(
                [(32.692307692, 241.676135911), (32.730305822, 239.421801013), (32.803522365, 235.078044909), (33.265016423, 228.812578486), (34.105013548, 223.050006886), (35.25834191, 217.780103579), (36.750823247, 213.00609642), (38.576903306, 208.736246769), (40.747764015, 204.965554134), (43.260027956, 201.696529353), (46.050180804, 198.888447148), (49.04265338, 196.474135787), (52.219790696, 194.409909096), (55.600711353, 192.711596469), (59.198274551, 191.426841862), (62.982913624, 190.495115298), (66.968515038, 189.902801915), (69.699399362, 189.843456212), (71.09375, 189.813155142)],
                knots=[0, 0, 0, 0, 0.006763221, 0.013031685, 0.018832209, 0.02421962, 0.029199268, 0.033815536, 0.038124058, 0.042216888, 0.046147677, 0.049972291, 0.053731184, 0.057493799, 0.061295801, 0.065165592, 0.069172816, 0.073353388, 0.073353388, 0.073353388, 0.073353388], degree=3))
            add(Edge.make_bspline(
                [(71.09375, 189.813155142), (72.126076347, 189.838910052), (74.155992848, 189.88955326), (77.156365937, 190.210981824), (80.036112192, 190.824381907), (82.809327067, 191.635492498), (85.48678539, 192.653197007), (88.02764717, 193.958707247), (90.48190273, 195.459197387), (92.798628231, 197.217656853), (95.0088458, 199.191863347), (97.024695379, 201.473554028), (98.894563209, 204.007905032), (100.59472722, 206.811853475), (102.181995284, 209.861398577), (103.532451036, 213.204053883), (104.790521611, 216.785800522), (105.437296252, 219.294753392), (105.769230769, 220.582385911)],
                knots=[0, 0, 0, 0, 0.003097285, 0.006090351, 0.009036902, 0.011917915, 0.014752645, 0.017614951, 0.020475206, 0.023371847, 0.02632895, 0.029350837, 0.032487948, 0.035765531, 0.039178998, 0.042789396, 0.046571398, 0.050558745, 0.050558745, 0.050558745, 0.050558745], degree=3))
        make_face()
    extrude(amount=-CUT_EXTRUDE1_DEPTH, mode=Mode.SUBTRACT)

    # Chamfer1
    chamfer1_edges = [part.edges().sort_by_distance(p)[0] for p in [
        (245, 460, 0),
    ]]
    chamfer(chamfer1_edges, length=CHAMFER1_SIZE)


solid = part.part
